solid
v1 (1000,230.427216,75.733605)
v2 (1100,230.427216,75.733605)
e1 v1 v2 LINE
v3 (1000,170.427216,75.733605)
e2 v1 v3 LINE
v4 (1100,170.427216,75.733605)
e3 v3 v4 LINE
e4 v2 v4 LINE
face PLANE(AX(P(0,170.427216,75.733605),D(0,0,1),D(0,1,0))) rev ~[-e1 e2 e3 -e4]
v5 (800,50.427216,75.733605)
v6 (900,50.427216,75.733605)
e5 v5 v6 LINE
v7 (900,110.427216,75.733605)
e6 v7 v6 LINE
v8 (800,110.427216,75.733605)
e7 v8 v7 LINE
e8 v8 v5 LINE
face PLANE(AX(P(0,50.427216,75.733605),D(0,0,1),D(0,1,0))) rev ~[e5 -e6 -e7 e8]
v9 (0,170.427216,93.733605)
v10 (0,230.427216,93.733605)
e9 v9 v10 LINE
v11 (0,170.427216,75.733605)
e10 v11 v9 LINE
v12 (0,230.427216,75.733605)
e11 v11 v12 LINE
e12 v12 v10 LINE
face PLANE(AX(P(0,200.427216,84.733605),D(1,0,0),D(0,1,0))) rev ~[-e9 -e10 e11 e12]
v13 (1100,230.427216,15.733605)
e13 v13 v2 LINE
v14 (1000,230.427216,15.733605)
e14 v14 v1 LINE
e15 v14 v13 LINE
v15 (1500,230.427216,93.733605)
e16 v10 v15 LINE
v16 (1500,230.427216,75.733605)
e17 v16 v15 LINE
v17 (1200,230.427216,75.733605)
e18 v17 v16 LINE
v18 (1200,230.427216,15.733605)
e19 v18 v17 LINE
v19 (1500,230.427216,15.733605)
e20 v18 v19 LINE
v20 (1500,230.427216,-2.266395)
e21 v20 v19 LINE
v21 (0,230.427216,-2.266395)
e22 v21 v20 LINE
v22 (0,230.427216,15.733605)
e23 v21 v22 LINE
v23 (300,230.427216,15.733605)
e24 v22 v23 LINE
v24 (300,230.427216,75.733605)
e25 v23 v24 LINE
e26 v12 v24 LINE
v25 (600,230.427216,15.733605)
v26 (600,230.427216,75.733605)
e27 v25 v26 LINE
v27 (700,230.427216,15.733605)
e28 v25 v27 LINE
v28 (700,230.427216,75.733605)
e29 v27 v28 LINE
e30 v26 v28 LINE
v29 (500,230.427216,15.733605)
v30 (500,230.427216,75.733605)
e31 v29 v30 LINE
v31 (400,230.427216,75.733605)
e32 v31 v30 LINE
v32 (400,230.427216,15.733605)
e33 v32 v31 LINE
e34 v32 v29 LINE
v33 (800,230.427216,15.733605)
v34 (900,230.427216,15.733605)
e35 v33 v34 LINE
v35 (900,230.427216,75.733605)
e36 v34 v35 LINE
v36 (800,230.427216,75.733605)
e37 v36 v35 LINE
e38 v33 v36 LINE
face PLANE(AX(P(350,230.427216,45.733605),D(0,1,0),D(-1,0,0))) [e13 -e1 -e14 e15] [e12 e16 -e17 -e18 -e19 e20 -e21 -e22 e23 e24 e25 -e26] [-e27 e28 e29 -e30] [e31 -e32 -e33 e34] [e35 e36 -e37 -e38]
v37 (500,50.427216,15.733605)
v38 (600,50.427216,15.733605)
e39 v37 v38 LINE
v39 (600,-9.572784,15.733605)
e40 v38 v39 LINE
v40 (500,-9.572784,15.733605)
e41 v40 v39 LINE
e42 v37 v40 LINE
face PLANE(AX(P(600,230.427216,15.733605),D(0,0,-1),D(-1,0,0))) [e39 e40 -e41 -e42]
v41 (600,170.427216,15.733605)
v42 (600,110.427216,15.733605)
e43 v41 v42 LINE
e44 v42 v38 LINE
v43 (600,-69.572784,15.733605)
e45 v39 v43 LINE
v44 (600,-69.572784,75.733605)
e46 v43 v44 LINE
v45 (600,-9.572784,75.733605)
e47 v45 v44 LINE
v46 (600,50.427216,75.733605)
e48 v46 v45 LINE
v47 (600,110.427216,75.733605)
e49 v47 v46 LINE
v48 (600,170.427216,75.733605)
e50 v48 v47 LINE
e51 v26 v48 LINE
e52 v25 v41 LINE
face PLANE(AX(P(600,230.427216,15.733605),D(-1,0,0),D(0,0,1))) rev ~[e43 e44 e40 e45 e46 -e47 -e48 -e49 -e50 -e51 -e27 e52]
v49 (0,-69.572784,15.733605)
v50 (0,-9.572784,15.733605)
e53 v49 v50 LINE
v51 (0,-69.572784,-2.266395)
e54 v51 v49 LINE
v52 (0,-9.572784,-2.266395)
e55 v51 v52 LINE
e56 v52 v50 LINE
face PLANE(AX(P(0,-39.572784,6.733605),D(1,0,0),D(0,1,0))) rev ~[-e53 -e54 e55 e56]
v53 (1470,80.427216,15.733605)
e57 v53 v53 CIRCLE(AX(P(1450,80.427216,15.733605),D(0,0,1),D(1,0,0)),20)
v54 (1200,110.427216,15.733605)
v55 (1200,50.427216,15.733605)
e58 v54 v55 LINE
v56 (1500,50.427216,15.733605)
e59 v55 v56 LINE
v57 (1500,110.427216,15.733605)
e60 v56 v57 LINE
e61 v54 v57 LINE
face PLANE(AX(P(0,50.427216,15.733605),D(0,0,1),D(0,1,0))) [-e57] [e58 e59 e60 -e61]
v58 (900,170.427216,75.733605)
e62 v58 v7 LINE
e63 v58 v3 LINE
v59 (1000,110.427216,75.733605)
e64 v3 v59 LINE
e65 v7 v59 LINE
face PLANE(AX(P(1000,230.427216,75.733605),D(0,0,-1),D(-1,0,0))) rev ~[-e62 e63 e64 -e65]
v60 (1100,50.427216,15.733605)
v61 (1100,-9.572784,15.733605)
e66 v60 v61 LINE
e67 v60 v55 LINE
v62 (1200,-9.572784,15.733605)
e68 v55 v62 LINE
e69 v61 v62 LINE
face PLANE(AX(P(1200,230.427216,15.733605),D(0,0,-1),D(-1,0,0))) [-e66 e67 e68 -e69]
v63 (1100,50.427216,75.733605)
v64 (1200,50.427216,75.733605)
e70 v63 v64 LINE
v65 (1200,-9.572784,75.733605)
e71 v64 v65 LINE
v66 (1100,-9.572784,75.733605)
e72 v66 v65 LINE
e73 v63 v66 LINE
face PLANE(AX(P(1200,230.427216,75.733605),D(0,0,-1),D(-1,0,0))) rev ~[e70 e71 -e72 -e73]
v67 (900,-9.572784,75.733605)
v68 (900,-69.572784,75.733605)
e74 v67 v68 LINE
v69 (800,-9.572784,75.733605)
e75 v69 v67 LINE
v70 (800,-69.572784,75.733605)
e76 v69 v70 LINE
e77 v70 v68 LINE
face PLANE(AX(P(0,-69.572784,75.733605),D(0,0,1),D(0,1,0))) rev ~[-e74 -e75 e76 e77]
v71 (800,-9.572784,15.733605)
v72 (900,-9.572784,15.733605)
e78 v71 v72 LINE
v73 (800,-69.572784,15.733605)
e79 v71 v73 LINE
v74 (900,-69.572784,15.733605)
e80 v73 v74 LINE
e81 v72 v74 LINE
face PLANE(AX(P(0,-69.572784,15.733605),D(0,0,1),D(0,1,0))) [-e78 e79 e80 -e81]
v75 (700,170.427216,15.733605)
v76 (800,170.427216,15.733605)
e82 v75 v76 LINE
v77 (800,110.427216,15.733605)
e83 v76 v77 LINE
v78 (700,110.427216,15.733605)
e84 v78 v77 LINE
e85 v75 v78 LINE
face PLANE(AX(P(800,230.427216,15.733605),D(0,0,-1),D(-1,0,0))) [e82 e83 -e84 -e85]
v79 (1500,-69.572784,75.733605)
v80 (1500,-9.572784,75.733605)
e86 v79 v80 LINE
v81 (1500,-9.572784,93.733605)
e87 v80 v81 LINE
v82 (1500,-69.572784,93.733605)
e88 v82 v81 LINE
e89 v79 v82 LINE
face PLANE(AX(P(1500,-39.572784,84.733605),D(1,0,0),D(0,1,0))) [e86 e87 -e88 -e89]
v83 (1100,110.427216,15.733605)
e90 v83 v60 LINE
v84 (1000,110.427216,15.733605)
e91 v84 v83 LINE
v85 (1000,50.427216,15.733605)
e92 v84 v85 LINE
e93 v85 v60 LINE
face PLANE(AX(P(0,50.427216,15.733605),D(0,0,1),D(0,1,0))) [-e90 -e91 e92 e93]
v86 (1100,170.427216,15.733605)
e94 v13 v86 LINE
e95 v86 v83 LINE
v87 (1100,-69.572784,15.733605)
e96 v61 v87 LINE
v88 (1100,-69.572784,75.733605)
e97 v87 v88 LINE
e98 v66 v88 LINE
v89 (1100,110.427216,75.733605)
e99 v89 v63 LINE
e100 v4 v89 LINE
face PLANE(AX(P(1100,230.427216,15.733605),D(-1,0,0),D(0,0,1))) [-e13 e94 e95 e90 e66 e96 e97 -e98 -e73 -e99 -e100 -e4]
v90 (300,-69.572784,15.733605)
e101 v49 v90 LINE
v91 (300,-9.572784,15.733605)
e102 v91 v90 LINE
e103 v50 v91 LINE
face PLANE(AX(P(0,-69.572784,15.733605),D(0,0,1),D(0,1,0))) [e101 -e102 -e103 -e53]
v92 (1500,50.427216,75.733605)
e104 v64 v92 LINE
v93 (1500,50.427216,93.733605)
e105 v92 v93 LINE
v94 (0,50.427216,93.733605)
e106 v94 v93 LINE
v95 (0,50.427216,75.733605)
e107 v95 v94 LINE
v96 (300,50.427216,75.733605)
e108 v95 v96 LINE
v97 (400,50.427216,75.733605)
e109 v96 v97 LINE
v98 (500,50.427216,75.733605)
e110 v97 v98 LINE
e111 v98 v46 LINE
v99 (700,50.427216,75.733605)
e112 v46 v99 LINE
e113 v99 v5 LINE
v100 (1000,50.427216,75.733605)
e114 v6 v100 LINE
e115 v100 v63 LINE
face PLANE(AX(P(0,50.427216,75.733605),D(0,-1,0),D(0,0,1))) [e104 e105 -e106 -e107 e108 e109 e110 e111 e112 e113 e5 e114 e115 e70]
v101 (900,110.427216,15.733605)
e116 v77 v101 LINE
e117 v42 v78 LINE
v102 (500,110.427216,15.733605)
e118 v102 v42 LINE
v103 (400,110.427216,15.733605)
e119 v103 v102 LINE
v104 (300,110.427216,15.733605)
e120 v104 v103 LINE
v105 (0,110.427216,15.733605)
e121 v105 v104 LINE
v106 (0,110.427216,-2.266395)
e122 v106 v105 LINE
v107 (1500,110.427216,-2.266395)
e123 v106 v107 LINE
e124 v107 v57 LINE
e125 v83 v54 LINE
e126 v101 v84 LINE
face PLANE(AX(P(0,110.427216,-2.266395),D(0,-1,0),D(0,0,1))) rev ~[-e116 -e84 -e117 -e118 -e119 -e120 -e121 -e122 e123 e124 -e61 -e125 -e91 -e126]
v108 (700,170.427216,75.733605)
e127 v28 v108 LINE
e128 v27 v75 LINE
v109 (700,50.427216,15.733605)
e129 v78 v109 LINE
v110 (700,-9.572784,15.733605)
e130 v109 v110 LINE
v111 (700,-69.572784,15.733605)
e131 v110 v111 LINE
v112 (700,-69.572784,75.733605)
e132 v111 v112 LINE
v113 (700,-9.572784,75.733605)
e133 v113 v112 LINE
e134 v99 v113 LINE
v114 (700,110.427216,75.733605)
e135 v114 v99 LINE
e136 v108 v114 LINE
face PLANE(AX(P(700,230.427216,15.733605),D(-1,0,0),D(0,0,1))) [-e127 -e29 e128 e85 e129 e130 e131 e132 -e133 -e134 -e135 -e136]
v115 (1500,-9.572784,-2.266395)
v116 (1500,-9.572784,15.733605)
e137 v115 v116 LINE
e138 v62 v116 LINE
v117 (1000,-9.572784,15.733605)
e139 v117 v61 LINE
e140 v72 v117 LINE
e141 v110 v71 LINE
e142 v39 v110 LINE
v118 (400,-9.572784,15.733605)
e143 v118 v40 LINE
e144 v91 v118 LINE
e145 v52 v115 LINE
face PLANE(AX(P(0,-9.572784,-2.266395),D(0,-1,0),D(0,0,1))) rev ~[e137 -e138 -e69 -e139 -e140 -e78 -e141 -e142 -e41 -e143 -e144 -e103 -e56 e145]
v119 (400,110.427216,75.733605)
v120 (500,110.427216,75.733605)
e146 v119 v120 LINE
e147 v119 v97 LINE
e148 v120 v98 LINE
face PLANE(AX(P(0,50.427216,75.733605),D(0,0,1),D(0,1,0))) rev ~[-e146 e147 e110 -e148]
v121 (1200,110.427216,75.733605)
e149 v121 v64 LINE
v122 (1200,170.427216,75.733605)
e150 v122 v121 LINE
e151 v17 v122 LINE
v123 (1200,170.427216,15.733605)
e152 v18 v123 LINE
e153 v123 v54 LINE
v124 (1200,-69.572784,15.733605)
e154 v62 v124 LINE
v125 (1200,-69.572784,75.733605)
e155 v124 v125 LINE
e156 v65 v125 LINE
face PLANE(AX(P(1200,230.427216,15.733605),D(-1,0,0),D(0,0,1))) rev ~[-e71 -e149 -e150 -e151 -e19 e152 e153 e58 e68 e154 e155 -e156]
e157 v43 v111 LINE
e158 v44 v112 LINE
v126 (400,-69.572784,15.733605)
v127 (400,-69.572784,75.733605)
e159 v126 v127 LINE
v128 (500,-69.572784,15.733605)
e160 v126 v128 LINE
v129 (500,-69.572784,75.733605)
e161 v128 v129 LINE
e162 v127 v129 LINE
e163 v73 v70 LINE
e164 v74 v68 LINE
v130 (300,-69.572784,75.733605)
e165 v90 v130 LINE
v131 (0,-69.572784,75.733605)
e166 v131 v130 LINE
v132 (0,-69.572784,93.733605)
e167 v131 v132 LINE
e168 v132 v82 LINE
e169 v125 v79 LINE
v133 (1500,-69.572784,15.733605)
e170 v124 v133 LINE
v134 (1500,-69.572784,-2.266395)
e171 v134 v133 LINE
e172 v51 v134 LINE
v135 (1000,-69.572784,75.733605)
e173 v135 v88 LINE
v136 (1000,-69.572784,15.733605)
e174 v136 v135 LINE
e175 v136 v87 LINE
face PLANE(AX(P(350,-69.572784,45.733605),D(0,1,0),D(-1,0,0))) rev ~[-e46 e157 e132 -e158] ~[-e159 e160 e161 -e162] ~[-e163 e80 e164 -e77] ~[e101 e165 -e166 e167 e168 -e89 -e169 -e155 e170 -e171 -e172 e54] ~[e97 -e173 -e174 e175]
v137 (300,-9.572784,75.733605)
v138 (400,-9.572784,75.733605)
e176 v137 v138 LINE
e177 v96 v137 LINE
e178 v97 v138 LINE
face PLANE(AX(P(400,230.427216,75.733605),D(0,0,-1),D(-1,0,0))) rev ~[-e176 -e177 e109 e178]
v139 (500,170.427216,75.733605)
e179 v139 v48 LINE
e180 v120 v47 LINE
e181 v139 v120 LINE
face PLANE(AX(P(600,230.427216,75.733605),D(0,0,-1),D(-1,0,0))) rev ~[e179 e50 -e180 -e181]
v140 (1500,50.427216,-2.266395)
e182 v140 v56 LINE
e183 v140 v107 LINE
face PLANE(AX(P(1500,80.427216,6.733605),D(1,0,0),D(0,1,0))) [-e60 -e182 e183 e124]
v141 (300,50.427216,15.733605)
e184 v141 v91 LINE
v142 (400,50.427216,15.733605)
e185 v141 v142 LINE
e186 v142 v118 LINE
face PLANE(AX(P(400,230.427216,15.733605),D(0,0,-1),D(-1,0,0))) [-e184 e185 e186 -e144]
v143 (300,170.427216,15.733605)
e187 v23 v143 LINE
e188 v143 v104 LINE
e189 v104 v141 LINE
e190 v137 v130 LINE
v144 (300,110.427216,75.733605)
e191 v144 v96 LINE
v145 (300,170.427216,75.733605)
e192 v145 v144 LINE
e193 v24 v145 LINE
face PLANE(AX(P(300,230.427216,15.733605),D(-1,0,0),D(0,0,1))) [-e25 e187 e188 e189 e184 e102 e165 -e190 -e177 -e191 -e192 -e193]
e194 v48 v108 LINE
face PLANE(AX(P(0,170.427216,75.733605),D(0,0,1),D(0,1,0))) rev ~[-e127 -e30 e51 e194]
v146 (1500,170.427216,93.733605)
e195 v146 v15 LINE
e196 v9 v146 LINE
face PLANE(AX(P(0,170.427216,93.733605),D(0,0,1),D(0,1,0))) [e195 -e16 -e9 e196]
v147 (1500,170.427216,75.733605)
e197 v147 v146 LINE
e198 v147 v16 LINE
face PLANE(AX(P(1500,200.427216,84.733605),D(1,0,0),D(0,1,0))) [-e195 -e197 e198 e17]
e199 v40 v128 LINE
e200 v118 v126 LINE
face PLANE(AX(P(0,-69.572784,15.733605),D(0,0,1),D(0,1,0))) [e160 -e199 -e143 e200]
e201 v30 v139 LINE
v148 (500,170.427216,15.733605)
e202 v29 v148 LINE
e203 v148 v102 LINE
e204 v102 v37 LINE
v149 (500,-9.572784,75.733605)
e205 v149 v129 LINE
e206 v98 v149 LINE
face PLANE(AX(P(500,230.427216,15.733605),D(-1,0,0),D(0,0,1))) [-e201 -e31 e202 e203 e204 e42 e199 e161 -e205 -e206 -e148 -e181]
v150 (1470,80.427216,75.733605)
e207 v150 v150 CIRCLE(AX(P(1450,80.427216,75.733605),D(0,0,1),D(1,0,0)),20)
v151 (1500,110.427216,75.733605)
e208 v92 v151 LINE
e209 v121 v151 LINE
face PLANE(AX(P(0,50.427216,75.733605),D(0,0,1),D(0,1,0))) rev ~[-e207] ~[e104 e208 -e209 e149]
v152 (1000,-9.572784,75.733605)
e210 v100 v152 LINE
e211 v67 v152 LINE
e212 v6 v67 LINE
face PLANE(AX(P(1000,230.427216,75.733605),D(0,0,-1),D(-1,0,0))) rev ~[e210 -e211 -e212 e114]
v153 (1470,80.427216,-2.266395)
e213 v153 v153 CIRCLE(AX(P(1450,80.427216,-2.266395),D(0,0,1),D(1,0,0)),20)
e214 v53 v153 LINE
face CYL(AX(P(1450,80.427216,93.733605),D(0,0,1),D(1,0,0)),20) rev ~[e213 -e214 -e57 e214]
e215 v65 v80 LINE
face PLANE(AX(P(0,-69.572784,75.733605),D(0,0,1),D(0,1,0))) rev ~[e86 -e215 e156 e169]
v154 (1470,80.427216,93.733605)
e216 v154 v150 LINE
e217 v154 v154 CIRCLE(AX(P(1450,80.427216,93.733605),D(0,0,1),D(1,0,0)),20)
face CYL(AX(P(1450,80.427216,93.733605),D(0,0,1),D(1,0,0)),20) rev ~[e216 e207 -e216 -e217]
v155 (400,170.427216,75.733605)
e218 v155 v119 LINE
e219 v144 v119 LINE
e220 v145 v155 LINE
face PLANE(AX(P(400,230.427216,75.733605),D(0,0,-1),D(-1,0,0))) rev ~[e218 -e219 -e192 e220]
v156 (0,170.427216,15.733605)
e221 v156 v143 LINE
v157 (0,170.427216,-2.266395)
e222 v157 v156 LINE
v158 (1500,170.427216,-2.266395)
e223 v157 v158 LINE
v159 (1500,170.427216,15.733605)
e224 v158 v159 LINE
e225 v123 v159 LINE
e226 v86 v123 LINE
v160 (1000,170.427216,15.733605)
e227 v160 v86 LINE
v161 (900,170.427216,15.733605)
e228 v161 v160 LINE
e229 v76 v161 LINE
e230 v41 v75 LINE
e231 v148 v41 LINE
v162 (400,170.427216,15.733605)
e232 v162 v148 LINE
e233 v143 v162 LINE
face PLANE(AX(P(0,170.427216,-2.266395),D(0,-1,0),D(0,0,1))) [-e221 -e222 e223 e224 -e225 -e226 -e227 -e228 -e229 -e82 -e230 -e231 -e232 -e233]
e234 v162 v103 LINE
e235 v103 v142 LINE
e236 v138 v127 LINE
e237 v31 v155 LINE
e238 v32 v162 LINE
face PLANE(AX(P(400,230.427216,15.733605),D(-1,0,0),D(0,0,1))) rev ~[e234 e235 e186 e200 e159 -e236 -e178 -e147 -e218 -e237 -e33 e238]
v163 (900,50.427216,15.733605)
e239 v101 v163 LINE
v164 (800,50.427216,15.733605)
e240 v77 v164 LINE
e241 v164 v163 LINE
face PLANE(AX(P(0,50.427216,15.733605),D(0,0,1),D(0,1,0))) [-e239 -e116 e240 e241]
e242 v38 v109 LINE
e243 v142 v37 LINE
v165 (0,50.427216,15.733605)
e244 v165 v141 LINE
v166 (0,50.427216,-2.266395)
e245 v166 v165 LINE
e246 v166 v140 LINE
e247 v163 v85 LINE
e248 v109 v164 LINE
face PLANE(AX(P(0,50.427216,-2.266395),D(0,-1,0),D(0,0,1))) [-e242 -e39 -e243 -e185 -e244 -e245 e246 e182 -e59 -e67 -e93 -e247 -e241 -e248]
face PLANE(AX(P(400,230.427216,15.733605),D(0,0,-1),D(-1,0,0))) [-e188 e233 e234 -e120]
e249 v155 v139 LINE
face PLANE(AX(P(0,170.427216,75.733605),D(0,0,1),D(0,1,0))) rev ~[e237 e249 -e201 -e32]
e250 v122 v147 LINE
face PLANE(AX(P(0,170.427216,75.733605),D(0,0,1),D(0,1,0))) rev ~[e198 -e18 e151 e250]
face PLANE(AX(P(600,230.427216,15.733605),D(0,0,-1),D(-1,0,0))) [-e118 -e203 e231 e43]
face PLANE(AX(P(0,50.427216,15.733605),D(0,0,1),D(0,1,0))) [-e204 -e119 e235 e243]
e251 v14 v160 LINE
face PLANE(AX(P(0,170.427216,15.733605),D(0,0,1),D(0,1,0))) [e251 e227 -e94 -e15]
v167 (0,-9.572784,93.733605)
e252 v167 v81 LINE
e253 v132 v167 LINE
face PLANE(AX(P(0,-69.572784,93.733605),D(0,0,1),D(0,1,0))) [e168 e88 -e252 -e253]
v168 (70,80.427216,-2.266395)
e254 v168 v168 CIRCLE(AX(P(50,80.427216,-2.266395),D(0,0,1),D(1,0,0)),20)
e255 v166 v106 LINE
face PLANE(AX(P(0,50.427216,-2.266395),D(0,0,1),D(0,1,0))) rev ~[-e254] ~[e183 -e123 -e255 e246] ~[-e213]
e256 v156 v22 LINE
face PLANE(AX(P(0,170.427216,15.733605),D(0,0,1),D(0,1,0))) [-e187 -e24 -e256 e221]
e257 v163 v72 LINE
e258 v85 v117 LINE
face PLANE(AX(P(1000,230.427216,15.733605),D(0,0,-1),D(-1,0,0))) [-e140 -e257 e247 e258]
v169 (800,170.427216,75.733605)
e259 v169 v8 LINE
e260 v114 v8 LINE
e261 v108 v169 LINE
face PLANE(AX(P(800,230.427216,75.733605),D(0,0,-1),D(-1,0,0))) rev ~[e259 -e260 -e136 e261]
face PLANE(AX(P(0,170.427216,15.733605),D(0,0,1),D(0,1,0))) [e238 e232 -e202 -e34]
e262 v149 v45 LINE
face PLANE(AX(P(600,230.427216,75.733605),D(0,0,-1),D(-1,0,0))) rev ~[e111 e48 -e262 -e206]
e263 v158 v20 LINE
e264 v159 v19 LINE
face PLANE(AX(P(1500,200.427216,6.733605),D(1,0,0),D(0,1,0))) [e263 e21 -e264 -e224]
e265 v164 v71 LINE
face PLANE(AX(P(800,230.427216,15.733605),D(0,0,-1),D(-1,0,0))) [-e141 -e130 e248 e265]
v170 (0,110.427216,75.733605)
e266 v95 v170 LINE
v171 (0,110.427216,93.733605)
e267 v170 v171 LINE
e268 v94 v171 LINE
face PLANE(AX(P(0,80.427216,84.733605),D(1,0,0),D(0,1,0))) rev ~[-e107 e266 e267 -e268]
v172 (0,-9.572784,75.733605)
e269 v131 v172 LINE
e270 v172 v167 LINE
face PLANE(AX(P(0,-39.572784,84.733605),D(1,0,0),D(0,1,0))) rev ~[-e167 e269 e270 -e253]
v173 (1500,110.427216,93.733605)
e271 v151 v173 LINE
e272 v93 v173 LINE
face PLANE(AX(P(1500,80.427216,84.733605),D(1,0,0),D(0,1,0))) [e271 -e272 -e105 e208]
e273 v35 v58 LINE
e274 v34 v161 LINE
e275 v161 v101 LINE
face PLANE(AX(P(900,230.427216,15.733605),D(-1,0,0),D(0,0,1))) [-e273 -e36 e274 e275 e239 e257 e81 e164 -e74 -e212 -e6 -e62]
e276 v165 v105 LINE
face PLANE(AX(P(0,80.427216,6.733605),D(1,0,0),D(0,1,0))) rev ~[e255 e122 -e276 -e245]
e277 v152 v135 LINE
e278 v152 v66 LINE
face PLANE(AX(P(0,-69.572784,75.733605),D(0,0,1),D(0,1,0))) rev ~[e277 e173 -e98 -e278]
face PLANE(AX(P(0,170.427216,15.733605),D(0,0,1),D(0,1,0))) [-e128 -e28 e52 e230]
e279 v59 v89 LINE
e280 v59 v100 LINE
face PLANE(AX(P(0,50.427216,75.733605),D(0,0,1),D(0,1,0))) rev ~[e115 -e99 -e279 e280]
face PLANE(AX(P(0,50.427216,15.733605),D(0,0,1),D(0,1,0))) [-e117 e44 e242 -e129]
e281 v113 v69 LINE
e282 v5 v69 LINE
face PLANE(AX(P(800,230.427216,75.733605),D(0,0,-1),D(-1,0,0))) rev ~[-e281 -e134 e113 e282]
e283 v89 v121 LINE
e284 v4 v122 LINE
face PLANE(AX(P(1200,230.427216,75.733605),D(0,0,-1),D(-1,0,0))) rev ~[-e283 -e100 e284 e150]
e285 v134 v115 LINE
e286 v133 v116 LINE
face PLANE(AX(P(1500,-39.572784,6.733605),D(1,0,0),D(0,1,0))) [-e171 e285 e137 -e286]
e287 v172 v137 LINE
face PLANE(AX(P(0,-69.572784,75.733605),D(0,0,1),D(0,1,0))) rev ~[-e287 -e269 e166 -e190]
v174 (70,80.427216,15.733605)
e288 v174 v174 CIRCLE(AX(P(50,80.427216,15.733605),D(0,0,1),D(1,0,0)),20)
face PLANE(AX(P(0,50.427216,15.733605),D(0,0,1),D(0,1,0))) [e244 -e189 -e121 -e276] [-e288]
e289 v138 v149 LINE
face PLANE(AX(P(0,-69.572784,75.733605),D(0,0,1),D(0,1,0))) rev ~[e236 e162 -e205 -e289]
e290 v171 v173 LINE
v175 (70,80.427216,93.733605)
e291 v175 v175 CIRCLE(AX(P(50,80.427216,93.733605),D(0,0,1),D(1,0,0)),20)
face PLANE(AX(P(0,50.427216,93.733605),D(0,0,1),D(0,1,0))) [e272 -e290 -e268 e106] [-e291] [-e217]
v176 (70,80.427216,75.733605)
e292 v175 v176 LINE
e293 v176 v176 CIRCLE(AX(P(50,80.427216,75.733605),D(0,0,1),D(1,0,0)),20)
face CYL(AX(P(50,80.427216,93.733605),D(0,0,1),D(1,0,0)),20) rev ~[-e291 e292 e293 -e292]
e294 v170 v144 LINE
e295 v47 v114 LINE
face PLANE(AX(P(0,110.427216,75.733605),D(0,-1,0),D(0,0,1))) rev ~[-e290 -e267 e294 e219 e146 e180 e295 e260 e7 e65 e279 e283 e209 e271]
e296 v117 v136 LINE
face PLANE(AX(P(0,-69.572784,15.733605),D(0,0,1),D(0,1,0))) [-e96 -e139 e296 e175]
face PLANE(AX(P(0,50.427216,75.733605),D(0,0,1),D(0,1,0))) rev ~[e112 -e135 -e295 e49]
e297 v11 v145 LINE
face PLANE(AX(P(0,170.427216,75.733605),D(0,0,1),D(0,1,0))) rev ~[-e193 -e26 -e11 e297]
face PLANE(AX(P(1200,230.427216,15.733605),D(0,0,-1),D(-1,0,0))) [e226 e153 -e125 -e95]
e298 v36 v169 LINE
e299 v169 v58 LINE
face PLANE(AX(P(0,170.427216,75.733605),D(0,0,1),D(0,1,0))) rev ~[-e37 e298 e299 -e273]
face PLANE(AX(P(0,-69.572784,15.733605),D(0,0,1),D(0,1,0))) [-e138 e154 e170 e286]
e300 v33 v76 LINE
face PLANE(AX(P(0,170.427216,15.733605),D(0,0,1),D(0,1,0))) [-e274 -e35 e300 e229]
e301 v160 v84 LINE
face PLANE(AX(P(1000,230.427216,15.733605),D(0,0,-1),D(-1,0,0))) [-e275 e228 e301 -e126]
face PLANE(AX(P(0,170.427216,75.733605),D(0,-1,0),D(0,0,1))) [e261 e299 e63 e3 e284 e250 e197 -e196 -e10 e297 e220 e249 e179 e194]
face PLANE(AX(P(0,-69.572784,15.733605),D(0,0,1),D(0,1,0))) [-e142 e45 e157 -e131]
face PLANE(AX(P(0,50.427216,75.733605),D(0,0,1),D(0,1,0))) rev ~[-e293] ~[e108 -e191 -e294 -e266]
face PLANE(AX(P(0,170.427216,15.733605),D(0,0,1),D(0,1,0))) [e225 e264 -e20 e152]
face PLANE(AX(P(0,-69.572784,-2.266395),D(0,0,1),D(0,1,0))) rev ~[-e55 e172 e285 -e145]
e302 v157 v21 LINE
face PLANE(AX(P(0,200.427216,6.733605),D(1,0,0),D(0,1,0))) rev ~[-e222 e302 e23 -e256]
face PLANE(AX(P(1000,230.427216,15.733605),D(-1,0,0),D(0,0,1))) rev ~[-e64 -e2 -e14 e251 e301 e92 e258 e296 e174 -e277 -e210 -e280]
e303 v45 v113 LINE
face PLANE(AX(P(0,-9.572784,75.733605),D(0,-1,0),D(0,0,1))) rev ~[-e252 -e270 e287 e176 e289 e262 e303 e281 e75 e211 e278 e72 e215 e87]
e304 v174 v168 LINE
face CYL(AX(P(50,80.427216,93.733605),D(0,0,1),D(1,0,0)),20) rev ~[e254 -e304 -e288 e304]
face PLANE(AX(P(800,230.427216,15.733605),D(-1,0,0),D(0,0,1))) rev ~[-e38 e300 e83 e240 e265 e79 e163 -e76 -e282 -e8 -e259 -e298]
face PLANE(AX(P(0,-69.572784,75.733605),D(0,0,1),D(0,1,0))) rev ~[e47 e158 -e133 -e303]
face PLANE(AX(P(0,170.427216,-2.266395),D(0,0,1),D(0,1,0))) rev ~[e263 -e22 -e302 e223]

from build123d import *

# Parameters (mm, degrees)
F0_W     = 60
F0_H     = 18
F1_DEPTH = 1500
F2_W     = 100
F2_H     = 60
F3_DEPTH = 300
F4_R     = 20
F5_DEPTH = 96


with BuildPart() as f1:
    # F0 (on Right) → F1 (new body)
    with BuildSketch(Plane.YZ):
        with Locations((-39.5727836765, 84.7336053236)):
            Rectangle(F0_W, F0_H)
    extrude(amount=F1_DEPTH)



with BuildPart() as f1b:
    # F0 (on Right) → F1, piece 2 (new body)
    with BuildSketch(Plane.YZ):
        with Locations((80.4272163235, 84.7336053236)):
            Rectangle(F0_W, F0_H)
    extrude(amount=F1_DEPTH)


with BuildPart() as f1c:
    # F0 (on Right) → F1, piece 3 (new body)
    with BuildSketch(Plane.YZ):
        with Locations((200.4272163235, 84.7336053236)):
            Rectangle(F0_W, F0_H)
    extrude(amount=F1_DEPTH)


with BuildPart() as f1d:
    # F0 (on Right) → F1, piece 4 (new body)
    with BuildSketch(Plane.YZ):
        with Locations((-39.5727836765, 6.7336053236)):
            Rectangle(F0_W, F0_H)
    extrude(amount=F1_DEPTH)


with BuildPart() as f1e:
    # F0 (on Right) → F1, piece 5 (new body)
    with BuildSketch(Plane.YZ):
        with Locations((80.4272163235, 6.7336053236)):
            Rectangle(F0_W, F0_H)
    extrude(amount=F1_DEPTH)


with BuildPart() as f1f:
    # F0 (on Right) → F1, piece 6 (new body)
    with BuildSketch(Plane.YZ):
        with Locations((200.4272163235, 6.7336053236)):
            Rectangle(F0_W, F0_H)
    extrude(amount=F1_DEPTH)


with BuildPart() as f1_1:
    add(f1.part)

    add(f1b.part)  # F3 merges F1b

    add(f1c.part)  # F3 merges F1c

    add(f1d.part)  # F3 merges F1d

    add(f1e.part)  # F3 merges F1e

    add(f1f.part)  # F3 merges F1f
    # F2 (on face) → F3 (join)
    with BuildSketch(Plane(origin=(0, 230.4272163235, 0), x_dir=(-1, 0, 0), z_dir=(0, 1, 0))):
        with Locations((-350, 45.7336053236)):
            Rectangle(F2_W, F2_H)
        with Locations((-550, 45.7336053236)):
            Rectangle(F2_W, F2_H)
        with Locations((-750, 45.7336053236)):
            Rectangle(F2_W, F2_H)
        with Locations((-950, 45.7336053236)):
            Rectangle(F2_W, F2_H)
        with Locations((-1150, 45.7336053236)):
            Rectangle(F2_W, F2_H)
    extrude(amount=-F3_DEPTH)

    # F4 (on face) → F5 (cut, through all)
    with BuildSketch(Plane.XY.offset(93.7336053236)):
        with Locations((50, 80.4272163235)):
            Circle(F4_R)
        with Locations((1450, 80.4272163235)):
            Circle(F4_R)
    extrude(amount=-F5_DEPTH, mode=Mode.SUBTRACT)


solid = f1_1.part
